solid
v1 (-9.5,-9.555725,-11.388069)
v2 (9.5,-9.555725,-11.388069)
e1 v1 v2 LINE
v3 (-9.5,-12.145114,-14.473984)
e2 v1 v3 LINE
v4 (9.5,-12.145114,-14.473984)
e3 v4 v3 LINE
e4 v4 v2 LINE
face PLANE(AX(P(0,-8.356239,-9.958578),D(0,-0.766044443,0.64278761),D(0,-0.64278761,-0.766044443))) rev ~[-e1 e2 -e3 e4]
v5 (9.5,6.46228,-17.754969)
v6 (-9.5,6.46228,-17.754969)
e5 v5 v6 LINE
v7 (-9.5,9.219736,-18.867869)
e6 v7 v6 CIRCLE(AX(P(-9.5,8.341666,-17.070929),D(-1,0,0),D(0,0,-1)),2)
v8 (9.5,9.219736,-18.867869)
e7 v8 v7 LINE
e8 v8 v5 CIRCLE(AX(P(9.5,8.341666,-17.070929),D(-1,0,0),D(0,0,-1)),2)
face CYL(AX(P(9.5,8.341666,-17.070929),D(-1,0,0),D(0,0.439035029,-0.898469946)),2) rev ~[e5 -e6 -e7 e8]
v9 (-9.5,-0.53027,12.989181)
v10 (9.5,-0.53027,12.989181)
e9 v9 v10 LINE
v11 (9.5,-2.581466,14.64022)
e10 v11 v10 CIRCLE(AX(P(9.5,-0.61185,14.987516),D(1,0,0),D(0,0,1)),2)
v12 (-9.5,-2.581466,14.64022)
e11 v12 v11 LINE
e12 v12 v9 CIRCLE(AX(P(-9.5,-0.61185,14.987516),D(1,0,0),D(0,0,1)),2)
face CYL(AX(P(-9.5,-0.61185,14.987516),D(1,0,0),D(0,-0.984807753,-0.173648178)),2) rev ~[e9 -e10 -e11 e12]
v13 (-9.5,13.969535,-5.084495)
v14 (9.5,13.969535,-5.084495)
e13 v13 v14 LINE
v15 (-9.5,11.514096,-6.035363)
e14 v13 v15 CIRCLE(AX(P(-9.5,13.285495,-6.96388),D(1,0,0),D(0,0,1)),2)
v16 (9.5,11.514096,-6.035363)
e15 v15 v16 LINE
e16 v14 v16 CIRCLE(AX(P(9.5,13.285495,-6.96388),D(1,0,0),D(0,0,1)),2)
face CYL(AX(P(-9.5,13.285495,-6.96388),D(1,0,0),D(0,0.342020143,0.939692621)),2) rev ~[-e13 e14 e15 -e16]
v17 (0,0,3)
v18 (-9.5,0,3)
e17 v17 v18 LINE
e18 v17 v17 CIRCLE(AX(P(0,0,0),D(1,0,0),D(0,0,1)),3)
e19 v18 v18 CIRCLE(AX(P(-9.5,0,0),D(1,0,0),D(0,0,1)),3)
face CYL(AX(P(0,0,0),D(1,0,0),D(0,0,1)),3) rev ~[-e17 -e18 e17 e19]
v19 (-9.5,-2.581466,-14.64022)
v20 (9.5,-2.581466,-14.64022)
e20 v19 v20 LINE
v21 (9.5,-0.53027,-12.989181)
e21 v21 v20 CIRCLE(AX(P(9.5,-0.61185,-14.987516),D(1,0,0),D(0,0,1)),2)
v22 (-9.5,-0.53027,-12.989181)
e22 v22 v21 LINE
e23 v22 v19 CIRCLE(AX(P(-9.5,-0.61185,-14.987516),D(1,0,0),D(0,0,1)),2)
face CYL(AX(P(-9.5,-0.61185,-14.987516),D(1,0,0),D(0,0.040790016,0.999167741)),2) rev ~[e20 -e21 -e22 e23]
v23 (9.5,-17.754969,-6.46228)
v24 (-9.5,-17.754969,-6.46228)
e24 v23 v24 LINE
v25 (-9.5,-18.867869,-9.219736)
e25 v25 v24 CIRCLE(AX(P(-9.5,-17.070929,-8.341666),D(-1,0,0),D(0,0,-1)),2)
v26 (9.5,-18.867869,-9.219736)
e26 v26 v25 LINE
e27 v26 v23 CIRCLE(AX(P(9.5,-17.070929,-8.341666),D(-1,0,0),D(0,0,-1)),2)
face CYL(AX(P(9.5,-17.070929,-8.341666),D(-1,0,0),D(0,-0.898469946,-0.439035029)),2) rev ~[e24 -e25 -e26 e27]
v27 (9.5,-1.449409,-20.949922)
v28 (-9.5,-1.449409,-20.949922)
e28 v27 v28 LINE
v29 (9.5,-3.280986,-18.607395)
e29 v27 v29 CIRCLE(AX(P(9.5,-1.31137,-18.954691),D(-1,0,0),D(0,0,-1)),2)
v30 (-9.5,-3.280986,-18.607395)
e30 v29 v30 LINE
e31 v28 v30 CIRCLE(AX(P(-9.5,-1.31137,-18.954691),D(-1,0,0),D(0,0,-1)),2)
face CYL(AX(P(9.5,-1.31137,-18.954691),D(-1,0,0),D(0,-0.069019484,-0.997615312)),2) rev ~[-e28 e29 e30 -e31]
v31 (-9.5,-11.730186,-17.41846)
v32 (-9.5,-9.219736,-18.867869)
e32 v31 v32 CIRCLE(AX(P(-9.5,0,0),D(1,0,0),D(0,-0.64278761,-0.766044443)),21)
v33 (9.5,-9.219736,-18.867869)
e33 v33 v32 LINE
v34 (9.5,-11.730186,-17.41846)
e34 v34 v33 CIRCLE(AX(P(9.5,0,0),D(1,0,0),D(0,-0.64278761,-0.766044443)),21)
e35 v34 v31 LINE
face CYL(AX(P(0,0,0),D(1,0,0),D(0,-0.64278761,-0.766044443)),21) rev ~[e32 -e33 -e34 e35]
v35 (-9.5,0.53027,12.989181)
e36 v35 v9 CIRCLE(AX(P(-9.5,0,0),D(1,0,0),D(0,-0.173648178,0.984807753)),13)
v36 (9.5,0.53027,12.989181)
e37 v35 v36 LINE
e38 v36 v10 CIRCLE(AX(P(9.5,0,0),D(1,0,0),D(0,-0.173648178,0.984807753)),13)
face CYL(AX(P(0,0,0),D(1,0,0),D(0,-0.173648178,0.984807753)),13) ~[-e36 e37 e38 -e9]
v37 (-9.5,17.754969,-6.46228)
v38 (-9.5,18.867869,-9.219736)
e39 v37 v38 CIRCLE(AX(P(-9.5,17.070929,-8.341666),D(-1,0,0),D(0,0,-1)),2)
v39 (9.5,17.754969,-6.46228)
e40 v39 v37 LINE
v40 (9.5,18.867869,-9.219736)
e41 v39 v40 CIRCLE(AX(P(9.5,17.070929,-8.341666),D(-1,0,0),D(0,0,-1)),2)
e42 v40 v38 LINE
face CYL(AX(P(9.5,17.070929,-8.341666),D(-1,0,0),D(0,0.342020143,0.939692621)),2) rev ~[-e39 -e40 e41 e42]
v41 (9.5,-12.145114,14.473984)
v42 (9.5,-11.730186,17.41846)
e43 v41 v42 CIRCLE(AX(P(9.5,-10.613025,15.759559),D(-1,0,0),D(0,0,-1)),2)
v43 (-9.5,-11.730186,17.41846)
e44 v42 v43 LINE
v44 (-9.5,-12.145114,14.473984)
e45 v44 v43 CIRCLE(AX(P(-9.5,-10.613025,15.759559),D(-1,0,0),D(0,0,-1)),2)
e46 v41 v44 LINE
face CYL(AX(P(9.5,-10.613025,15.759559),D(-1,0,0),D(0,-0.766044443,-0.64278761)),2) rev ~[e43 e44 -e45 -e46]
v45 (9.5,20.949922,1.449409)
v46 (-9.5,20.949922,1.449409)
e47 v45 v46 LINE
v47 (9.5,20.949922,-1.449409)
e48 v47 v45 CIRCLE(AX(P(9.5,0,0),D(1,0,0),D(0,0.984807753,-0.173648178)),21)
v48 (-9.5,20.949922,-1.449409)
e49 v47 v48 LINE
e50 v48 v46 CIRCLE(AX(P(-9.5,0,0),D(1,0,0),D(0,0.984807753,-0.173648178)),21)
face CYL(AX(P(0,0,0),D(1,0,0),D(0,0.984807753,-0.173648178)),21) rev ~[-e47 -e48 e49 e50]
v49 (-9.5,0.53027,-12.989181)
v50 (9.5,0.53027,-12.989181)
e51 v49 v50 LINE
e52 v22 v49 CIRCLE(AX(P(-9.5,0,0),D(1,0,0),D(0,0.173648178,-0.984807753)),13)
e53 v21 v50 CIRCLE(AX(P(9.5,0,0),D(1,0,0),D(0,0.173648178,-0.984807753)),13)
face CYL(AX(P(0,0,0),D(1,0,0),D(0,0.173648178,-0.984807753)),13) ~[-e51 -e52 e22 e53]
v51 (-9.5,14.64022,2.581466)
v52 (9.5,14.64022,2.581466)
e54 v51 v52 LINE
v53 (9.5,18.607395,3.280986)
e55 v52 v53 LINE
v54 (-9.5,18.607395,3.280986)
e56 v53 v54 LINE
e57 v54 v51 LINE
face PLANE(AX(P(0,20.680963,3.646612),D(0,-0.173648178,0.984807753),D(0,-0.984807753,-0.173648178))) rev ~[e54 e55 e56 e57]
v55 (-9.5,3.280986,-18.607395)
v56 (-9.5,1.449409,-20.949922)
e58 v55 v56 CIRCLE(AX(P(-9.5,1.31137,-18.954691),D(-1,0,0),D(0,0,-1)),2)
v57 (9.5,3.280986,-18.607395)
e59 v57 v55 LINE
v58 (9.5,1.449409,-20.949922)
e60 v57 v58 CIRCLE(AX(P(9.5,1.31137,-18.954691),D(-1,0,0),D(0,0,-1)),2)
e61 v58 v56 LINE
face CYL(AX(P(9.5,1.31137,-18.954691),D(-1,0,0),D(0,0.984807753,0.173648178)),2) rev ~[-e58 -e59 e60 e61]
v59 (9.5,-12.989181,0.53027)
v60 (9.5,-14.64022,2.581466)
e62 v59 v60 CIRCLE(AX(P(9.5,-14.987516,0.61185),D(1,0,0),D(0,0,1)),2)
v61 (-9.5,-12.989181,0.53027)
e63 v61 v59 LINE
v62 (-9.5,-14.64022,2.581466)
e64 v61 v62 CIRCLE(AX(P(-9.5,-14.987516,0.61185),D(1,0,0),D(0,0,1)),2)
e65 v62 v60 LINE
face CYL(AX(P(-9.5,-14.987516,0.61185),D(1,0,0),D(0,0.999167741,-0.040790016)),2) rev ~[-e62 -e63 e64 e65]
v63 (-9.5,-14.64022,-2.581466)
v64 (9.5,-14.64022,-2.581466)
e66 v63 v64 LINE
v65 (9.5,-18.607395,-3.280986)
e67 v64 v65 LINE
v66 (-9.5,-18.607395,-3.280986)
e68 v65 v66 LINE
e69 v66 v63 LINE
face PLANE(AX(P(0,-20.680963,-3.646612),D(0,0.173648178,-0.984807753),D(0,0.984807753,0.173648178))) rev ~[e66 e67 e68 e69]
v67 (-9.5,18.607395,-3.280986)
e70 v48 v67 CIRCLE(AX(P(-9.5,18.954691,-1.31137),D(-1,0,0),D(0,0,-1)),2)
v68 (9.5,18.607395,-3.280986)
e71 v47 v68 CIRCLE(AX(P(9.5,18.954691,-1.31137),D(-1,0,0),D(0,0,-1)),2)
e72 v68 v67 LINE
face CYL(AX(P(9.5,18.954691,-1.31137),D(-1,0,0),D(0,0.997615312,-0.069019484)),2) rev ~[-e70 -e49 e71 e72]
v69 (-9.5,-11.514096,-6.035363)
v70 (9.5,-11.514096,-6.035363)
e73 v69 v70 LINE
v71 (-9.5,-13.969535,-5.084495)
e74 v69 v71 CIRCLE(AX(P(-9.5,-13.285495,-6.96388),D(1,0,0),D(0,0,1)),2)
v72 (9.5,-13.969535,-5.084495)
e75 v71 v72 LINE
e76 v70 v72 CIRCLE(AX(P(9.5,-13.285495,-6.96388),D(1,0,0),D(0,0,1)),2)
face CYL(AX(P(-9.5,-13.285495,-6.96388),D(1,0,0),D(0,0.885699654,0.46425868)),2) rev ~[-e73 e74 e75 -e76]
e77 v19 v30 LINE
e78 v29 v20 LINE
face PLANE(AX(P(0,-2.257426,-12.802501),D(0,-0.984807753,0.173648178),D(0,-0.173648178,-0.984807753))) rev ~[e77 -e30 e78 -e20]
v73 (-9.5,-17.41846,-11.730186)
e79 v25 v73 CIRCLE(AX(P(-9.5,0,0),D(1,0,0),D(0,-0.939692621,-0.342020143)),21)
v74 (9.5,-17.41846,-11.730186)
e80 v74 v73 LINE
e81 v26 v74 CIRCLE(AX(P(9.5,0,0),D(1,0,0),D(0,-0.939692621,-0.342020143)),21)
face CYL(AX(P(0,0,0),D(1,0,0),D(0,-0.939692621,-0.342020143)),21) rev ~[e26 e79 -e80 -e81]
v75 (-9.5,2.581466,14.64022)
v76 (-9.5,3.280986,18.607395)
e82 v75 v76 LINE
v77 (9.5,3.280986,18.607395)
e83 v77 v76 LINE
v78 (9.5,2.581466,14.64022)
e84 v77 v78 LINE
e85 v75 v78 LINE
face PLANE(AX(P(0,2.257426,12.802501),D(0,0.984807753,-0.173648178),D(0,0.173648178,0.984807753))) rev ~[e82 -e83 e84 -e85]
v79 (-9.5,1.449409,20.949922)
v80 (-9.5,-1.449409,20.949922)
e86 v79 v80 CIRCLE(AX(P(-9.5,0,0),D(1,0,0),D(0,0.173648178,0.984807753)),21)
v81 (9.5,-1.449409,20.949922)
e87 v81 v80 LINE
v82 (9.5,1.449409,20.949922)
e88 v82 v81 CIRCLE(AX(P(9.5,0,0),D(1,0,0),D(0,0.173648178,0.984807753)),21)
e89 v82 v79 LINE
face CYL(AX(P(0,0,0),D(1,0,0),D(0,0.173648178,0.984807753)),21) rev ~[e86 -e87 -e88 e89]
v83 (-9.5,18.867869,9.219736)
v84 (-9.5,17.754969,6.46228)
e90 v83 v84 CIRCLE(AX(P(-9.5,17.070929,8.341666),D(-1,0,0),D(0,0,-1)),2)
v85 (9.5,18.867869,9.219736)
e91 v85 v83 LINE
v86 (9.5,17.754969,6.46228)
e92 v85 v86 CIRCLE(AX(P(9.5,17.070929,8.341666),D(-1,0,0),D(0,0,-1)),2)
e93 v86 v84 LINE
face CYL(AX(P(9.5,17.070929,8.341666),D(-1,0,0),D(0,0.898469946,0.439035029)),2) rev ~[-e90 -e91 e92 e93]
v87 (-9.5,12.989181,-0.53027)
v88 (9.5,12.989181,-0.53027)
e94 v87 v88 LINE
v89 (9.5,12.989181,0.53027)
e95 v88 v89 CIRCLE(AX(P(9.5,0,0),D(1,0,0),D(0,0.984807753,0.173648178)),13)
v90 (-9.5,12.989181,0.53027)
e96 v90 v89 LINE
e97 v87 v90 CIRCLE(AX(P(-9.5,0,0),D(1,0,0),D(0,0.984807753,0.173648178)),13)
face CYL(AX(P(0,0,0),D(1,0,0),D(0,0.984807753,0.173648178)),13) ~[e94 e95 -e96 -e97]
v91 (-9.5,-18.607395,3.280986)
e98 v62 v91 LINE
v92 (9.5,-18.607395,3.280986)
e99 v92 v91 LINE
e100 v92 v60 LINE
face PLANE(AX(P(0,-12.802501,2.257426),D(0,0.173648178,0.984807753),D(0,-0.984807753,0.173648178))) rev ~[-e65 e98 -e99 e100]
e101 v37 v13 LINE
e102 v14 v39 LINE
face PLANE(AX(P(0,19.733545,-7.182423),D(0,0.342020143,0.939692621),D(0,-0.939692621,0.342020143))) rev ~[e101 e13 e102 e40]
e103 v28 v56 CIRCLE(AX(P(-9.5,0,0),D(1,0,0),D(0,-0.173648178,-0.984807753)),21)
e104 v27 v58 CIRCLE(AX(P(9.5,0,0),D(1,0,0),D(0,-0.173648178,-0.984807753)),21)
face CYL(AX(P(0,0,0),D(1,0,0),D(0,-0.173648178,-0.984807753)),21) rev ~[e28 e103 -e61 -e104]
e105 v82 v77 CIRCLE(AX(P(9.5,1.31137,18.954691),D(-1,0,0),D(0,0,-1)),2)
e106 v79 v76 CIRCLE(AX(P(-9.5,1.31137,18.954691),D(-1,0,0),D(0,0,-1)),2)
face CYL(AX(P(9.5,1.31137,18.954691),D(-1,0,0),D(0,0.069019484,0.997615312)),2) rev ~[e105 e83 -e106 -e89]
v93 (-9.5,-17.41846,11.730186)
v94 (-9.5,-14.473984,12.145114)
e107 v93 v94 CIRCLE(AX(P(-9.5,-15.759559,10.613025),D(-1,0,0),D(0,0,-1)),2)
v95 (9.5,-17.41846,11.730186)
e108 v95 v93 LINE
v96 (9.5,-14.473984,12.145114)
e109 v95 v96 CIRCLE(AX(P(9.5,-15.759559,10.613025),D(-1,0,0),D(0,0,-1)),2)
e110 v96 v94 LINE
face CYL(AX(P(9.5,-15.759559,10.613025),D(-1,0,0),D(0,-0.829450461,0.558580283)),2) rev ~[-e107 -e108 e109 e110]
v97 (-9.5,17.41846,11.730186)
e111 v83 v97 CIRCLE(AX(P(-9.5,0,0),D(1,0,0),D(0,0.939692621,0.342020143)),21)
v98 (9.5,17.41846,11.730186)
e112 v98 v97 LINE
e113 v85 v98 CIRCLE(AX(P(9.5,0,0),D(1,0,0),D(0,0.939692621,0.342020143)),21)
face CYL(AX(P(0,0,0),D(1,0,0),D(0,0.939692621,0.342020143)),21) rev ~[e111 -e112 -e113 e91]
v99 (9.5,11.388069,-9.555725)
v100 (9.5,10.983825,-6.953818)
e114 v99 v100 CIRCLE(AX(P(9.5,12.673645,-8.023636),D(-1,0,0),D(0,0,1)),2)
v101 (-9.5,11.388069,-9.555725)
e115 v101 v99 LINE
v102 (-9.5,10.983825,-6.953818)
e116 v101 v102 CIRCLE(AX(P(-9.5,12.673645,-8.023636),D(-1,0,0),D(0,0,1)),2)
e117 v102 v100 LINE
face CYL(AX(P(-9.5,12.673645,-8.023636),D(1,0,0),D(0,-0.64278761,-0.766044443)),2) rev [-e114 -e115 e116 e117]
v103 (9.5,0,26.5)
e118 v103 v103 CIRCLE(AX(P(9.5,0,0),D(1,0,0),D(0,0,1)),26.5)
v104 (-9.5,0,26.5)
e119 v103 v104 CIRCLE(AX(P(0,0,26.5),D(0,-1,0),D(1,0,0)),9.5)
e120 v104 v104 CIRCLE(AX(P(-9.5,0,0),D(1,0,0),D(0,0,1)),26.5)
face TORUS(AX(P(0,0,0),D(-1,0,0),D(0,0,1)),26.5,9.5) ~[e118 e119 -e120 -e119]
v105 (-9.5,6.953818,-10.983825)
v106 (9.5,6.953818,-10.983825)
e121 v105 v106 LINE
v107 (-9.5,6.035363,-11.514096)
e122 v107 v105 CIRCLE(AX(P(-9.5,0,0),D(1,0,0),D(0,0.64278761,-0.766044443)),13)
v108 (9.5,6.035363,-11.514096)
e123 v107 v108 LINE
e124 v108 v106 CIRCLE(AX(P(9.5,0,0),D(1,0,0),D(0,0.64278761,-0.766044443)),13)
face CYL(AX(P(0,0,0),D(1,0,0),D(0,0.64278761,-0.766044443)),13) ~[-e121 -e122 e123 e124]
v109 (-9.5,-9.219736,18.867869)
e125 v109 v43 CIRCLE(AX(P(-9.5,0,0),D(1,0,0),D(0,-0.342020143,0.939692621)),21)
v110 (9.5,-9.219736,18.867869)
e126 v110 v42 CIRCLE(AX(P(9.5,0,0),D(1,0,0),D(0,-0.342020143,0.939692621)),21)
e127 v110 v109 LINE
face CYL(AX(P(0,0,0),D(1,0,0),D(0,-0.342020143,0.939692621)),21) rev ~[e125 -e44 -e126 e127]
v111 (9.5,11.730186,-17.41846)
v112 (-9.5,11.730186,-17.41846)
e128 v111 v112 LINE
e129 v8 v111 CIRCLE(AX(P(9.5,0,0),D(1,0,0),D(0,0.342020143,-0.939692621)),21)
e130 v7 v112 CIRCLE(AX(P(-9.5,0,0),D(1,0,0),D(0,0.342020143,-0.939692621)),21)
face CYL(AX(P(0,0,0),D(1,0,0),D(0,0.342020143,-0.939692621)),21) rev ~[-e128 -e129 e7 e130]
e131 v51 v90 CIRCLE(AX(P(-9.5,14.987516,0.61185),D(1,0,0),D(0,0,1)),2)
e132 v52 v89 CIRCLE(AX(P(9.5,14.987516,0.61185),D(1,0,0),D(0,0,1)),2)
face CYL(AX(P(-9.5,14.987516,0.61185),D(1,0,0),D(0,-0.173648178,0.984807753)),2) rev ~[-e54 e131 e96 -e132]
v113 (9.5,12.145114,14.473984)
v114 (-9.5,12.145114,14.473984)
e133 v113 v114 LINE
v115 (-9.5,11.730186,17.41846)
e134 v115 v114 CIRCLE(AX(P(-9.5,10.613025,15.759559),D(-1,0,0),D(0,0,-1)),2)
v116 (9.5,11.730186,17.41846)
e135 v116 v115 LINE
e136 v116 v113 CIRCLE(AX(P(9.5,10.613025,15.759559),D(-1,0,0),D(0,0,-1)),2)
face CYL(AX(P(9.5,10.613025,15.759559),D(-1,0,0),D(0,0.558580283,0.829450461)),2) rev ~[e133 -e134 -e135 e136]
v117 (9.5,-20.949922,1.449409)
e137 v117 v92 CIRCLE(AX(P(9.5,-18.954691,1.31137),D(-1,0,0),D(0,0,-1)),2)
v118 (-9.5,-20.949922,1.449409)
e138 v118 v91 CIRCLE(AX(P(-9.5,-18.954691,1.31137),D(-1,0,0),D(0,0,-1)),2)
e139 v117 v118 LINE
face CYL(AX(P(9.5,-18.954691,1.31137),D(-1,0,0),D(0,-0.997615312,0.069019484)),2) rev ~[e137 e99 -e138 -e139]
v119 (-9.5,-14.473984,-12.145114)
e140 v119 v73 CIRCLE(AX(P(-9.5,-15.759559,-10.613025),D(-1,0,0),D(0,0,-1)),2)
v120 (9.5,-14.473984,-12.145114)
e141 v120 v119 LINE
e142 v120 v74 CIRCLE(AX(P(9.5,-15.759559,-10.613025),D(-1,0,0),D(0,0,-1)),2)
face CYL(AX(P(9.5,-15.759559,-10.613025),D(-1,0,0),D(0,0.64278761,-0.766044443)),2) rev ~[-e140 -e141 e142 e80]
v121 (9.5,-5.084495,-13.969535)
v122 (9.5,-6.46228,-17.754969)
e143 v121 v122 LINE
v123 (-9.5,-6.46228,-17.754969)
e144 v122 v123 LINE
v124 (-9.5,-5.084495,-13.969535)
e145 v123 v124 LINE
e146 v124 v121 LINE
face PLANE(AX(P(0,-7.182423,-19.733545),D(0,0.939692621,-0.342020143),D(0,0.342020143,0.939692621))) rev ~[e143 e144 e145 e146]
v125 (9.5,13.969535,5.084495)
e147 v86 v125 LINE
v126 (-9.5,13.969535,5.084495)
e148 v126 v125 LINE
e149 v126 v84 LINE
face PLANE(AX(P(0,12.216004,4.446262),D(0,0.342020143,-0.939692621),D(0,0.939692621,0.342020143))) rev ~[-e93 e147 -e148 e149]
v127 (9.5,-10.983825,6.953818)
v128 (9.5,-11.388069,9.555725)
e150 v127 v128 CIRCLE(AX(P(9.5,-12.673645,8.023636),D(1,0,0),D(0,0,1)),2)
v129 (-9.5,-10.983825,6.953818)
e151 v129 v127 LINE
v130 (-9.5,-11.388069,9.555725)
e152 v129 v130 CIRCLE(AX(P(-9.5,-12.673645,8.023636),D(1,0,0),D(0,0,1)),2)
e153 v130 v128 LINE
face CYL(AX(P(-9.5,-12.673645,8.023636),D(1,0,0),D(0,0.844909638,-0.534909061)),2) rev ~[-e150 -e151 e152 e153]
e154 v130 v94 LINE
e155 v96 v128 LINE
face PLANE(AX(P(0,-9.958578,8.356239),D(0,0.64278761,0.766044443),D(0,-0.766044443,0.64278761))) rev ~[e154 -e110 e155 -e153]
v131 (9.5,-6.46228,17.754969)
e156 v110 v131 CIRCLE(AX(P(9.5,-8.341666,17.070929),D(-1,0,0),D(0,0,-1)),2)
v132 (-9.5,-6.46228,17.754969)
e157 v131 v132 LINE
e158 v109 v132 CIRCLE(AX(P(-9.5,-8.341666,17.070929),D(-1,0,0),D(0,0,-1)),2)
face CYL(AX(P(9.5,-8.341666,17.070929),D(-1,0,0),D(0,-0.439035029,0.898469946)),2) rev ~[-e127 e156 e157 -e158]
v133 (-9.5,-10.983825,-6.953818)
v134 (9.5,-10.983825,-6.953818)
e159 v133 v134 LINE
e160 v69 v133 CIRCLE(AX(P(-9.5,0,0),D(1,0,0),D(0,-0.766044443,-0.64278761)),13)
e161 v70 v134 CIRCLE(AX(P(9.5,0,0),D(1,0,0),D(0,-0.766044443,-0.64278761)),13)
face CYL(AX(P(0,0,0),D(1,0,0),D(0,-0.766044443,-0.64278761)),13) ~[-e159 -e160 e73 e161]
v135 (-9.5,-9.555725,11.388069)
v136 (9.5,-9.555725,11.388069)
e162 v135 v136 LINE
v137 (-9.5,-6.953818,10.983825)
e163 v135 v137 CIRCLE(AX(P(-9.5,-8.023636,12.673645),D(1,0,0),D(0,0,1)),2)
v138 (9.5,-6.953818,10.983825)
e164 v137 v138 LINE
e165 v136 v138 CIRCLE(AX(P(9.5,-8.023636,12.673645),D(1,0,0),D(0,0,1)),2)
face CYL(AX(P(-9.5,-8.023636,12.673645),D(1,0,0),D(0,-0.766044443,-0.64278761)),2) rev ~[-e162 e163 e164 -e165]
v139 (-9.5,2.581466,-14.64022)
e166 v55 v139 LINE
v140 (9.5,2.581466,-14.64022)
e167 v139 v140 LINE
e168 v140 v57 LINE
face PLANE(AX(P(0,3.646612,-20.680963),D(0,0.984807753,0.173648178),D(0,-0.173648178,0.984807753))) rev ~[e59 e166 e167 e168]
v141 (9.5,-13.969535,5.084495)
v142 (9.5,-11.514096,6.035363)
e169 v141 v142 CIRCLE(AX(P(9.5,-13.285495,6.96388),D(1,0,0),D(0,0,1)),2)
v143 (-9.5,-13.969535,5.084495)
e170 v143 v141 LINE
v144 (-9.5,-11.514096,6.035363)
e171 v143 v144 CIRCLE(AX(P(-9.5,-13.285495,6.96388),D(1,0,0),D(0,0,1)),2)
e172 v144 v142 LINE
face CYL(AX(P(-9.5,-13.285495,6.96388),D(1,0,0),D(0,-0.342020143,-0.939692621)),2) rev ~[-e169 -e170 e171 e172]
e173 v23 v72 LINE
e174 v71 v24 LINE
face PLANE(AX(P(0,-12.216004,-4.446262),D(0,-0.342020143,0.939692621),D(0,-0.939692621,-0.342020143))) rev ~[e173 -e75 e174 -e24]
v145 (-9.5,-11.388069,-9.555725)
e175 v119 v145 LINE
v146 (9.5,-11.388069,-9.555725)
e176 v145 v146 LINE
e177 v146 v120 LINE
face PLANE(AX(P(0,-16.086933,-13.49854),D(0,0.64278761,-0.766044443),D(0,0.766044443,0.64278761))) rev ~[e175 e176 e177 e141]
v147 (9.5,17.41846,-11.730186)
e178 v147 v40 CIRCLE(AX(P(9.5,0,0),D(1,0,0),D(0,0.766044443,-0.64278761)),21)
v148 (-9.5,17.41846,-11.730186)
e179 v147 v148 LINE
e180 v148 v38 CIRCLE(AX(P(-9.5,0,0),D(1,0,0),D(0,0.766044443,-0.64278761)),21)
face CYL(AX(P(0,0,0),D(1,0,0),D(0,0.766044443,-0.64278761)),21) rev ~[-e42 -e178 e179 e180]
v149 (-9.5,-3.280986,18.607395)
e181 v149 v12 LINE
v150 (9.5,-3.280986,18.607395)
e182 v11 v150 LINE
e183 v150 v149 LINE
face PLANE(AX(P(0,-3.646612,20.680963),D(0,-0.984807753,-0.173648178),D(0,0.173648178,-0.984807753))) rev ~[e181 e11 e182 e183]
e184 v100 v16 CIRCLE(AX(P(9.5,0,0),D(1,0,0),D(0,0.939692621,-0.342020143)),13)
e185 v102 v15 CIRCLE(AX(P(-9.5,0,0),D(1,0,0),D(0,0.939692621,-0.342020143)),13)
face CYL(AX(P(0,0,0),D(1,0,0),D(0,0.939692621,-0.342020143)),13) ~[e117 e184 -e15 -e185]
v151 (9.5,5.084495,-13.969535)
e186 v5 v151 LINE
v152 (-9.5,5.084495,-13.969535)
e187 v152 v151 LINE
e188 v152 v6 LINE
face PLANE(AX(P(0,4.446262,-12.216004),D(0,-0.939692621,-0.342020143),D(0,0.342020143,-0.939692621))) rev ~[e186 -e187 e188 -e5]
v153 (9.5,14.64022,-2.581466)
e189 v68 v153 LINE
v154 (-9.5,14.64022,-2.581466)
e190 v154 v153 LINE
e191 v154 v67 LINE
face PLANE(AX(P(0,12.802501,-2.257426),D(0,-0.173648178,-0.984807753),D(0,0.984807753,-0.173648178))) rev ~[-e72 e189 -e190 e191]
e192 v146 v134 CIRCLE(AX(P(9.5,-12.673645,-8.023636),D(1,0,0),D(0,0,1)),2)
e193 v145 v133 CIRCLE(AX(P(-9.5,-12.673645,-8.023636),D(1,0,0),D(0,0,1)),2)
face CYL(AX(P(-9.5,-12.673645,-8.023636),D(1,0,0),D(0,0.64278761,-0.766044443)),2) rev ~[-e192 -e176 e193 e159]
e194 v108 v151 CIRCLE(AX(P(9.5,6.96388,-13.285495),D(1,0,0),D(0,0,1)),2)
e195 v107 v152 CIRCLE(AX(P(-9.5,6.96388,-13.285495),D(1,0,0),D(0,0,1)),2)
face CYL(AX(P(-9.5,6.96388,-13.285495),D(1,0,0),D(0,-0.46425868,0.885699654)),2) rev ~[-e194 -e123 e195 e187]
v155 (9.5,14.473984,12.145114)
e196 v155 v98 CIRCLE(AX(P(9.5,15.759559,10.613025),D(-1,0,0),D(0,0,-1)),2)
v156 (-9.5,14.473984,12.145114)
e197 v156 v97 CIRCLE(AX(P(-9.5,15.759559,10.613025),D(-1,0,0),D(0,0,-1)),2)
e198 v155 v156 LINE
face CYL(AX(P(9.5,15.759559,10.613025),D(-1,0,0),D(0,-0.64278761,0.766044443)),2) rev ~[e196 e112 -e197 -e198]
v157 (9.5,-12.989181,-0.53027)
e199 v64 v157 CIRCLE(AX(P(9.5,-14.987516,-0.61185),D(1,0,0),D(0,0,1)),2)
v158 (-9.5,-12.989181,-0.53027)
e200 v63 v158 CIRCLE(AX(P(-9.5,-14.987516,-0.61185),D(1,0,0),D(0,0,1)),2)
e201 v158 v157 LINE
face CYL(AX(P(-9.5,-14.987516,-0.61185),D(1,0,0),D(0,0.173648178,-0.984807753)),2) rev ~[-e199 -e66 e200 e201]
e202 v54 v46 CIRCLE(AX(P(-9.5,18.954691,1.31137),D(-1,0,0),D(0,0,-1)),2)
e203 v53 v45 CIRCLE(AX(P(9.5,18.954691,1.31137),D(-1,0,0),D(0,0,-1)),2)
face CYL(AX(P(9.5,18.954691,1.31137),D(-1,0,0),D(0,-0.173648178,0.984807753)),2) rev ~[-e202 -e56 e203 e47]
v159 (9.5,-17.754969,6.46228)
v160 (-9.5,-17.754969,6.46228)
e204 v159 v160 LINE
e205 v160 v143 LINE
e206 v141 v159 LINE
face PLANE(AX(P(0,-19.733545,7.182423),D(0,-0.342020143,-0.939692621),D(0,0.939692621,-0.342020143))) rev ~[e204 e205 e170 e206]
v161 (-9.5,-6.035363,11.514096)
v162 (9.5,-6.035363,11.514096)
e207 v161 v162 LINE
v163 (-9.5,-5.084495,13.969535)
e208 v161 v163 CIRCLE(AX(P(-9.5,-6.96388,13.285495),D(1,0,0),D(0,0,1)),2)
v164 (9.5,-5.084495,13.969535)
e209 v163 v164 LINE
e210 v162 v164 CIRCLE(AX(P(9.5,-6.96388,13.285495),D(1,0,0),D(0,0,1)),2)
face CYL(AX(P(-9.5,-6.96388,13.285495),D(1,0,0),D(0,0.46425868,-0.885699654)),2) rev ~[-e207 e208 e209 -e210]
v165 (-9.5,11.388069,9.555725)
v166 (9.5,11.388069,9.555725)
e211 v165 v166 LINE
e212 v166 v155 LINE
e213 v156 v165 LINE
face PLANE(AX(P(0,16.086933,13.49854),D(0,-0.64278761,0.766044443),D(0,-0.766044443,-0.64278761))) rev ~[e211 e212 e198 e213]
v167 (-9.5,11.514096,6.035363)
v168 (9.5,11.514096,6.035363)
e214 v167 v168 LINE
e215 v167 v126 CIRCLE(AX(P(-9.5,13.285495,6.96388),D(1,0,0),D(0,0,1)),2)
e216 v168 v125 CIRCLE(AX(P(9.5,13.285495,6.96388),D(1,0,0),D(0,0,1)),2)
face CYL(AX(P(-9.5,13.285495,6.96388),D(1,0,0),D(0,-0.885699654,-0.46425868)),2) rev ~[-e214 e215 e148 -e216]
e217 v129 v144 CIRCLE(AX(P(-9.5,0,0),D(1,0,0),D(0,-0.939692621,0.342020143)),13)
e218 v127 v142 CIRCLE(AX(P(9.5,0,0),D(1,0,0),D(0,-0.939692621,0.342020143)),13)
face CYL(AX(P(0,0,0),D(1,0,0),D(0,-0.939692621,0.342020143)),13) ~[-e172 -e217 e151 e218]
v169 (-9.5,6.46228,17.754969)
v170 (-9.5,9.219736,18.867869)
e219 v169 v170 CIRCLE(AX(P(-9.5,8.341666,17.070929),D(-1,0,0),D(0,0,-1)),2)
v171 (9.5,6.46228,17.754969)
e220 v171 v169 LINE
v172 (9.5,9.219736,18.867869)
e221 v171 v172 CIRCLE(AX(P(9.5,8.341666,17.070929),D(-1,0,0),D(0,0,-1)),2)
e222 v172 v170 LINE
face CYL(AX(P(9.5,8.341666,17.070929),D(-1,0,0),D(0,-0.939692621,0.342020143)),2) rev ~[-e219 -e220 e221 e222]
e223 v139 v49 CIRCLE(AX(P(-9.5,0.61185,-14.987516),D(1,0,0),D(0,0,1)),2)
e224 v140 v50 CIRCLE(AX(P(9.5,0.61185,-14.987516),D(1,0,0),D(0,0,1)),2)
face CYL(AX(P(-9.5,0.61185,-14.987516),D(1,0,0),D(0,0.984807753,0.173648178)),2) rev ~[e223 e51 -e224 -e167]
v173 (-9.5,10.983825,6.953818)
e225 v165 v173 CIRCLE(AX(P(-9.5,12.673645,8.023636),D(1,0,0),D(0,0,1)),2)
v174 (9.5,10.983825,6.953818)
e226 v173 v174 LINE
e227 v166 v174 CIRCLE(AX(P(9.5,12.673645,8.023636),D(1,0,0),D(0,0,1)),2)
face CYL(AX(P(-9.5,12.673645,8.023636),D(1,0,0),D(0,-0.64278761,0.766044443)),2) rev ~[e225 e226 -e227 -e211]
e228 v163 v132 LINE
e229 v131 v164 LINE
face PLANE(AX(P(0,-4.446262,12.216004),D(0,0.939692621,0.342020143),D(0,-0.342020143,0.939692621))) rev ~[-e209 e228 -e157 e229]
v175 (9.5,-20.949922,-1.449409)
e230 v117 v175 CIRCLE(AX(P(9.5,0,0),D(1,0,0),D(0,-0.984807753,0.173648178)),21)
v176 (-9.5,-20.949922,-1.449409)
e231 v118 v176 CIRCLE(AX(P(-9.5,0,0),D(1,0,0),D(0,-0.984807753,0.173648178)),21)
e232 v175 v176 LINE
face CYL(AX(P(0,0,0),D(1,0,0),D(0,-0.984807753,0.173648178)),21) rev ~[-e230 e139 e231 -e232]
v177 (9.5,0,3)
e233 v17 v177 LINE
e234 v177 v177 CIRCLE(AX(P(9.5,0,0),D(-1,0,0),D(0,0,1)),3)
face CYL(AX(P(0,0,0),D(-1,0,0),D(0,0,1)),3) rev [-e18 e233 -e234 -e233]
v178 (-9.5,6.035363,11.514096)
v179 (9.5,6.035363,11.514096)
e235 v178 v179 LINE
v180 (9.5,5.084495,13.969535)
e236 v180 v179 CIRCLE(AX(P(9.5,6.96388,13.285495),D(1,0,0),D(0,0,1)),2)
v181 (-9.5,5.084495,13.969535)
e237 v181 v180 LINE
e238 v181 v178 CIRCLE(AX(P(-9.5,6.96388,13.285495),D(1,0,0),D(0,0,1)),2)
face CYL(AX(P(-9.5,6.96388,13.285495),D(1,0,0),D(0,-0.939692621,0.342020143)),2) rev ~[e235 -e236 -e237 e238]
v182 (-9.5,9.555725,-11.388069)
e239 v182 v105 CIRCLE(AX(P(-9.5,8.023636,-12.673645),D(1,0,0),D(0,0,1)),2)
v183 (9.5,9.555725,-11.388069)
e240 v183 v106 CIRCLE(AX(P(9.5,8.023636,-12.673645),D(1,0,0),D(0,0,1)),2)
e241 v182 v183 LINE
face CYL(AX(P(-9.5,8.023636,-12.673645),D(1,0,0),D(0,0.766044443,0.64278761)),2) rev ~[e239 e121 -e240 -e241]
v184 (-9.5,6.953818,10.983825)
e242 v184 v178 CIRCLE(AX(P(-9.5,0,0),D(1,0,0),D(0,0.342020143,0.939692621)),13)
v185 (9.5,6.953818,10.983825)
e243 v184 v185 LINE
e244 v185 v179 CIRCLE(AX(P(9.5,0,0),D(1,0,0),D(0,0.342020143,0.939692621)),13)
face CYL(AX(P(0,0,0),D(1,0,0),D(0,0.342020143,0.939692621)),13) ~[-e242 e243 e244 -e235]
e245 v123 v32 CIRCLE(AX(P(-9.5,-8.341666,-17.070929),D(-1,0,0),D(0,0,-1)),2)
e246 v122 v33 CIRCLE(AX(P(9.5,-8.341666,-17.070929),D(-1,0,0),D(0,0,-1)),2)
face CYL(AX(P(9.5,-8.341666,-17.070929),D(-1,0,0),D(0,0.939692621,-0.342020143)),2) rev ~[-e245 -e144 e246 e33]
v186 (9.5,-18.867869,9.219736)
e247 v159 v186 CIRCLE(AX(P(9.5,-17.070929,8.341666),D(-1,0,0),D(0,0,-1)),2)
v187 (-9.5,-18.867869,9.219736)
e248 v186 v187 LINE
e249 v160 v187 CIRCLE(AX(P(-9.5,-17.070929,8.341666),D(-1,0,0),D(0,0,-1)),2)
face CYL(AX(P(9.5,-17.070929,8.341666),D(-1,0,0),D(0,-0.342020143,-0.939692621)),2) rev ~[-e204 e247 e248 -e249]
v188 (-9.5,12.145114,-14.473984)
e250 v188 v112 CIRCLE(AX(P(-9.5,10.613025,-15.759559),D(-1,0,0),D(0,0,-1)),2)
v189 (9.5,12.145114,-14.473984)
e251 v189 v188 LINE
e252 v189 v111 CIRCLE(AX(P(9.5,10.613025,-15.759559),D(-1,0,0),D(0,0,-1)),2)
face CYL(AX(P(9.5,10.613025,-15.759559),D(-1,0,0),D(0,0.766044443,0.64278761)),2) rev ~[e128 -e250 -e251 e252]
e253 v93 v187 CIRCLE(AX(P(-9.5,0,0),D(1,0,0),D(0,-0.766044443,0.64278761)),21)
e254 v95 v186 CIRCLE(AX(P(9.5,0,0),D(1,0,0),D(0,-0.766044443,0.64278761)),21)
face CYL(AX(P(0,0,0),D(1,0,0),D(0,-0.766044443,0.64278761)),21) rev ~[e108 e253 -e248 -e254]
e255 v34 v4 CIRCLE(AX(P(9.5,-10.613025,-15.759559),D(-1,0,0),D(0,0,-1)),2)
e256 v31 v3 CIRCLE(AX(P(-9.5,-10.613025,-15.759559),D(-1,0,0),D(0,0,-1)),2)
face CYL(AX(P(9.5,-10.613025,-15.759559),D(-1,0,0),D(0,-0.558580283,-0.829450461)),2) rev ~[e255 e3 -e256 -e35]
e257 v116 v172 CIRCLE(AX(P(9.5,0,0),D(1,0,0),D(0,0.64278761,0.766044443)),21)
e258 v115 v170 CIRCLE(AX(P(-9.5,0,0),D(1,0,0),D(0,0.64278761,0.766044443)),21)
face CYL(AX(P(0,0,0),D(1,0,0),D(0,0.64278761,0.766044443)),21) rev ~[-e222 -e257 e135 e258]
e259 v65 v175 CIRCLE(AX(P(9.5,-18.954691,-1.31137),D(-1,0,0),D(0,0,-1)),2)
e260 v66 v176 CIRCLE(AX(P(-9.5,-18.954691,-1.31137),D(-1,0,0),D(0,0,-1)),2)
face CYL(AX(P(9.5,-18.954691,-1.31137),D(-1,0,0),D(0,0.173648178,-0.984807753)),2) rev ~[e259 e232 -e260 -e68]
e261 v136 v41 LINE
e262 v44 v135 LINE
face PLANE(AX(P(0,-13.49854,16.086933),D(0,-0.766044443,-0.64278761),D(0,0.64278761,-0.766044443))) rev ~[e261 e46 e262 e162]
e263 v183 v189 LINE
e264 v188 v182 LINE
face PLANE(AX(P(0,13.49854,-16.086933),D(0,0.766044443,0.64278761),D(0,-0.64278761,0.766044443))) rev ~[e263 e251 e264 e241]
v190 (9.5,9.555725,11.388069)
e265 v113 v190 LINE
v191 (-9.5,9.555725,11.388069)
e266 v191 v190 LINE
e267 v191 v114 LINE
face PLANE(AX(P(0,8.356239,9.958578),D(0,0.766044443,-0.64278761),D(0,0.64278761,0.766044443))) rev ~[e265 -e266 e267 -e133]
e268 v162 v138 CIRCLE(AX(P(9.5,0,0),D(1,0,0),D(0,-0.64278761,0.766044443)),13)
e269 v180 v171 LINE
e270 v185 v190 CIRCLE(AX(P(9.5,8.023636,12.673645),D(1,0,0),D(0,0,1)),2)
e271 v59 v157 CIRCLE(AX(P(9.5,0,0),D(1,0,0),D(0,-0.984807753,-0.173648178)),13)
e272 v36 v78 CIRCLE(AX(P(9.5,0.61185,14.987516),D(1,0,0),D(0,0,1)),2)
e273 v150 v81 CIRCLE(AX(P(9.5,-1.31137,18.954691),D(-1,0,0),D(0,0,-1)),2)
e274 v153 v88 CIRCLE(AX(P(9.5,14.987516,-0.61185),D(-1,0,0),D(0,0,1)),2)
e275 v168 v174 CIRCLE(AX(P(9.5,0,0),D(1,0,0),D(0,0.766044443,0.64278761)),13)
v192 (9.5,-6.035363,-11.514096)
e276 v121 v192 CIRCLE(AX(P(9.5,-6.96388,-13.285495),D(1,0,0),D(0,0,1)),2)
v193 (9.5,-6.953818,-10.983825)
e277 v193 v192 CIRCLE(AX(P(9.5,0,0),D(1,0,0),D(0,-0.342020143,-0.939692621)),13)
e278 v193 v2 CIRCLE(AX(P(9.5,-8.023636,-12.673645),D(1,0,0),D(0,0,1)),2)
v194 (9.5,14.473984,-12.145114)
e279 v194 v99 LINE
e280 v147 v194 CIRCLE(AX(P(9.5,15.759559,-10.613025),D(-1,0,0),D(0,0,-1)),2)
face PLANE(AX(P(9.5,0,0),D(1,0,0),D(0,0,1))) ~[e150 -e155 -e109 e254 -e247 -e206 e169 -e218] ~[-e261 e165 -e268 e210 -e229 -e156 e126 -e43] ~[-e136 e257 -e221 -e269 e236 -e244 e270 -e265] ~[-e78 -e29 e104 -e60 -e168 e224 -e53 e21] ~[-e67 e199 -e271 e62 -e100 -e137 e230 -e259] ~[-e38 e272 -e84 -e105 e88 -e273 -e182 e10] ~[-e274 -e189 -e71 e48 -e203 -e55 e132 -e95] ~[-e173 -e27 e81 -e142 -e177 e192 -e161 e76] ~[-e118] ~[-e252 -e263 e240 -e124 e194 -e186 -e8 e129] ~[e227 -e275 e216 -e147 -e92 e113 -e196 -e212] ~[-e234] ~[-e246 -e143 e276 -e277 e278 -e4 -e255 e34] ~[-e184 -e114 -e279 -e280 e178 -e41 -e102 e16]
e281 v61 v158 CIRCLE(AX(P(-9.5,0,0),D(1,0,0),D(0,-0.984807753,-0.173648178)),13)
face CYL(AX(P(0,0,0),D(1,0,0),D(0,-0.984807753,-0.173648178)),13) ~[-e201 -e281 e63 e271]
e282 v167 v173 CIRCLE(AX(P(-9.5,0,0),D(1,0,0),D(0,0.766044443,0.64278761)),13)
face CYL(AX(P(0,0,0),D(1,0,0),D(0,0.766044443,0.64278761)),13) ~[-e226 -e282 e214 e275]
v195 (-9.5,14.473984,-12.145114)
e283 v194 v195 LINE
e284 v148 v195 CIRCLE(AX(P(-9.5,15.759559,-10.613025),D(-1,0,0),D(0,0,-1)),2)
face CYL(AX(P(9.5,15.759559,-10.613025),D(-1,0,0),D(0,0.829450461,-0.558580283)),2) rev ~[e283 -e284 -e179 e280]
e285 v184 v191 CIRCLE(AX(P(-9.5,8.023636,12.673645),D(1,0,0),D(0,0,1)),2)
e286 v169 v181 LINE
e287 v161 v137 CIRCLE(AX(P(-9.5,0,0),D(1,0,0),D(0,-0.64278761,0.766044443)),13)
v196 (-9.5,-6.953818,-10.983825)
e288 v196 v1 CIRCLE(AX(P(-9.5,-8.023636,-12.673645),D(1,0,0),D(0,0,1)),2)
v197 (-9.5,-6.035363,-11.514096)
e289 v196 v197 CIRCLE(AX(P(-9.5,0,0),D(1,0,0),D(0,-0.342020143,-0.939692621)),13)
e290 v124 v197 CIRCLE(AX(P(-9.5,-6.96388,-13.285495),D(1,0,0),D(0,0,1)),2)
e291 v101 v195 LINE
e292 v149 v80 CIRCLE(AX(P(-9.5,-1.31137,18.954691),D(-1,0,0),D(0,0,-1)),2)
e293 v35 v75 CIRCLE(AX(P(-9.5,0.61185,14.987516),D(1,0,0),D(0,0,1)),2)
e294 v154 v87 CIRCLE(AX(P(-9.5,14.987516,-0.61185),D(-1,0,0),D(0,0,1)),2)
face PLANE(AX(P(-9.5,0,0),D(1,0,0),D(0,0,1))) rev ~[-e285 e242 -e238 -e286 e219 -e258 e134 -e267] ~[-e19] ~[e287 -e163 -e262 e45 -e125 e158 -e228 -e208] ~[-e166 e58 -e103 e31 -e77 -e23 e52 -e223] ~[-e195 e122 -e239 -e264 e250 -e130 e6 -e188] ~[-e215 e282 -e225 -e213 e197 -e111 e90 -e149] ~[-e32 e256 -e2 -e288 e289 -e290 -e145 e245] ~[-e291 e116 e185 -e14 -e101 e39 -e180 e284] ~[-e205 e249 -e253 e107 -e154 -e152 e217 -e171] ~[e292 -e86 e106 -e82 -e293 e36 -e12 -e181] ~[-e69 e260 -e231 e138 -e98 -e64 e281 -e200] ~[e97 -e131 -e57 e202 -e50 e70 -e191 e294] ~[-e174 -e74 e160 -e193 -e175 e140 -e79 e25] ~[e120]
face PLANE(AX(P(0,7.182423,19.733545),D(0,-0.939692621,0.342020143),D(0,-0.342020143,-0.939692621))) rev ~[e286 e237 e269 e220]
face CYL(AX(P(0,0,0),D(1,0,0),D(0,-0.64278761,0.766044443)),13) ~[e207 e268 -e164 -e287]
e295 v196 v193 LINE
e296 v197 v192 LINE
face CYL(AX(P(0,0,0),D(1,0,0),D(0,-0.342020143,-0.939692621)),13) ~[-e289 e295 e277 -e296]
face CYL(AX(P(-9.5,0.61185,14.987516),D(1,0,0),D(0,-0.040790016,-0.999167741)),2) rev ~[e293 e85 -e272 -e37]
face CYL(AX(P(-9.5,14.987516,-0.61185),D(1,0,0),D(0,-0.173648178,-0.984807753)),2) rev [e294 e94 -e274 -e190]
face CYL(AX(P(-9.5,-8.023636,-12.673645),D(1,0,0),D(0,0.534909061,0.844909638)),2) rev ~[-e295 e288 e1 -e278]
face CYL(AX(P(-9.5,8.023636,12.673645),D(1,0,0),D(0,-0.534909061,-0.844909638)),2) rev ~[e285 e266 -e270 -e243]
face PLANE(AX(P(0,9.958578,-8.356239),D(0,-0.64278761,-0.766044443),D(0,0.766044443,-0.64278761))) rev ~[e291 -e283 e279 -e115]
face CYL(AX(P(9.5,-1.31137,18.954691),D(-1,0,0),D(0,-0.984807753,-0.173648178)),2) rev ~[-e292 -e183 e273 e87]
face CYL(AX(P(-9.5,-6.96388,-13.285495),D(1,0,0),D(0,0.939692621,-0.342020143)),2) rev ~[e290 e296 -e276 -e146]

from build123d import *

# Parameters (mm, degrees)
CUT_EXTRUDE1_REACH             = 53.79
SKETCH5_R                      = 3
CUT_EXTRUDE1_DIRECTION_2_REACH = 53.79
CUT_EXTRUDE2_DEPTH             = 52.790443273
FILLET1_R                      = 2
CIRPATTERN2_COUNT              = 12
FILLET1_OF_CIRPATTERN2_R       = 2


with BuildPart() as part:
    # Sketch3 → Revolve1 (revolve)
    with BuildSketch(Plane.XY, mode=Mode.PRIVATE) as revolve1_sk:
        with BuildLine():
            Line((9.5, 0), (9.5, 26.5))
            ThreePointArc((9.5, 26.5), (0, 36), (-9.5, 26.5))
            Line((-9.5, 26.5), (-9.5, 0))
            Line((-9.5, 0), (9.5, 0))
        make_face()
    revolve(revolve1_sk.sketch.rotate(Axis((-15.081723319, 0, 0), (1, 0, 0)), 90), axis=Axis((-15.081723319, 0, 0), (1, 0, 0)))

    # Sketch5 → Cut-Extrude1 (cut, up to next)
    with BuildSketch(Plane(origin=(0, 0, 0), x_dir=(0, 0, -1), z_dir=(1, 0, 0)), mode=Mode.PRIVATE) as cut_extrude1_sk1:
        with Locations(Location((0, 0, 0), (0, 0, 180))):
            Circle(SKETCH5_R)
    cut_extrude1_tool1 = extrude(cut_extrude1_sk1.sketch, amount=-CUT_EXTRUDE1_REACH, mode=Mode.PRIVATE) & part.part
    add(cut_extrude1_tool1.solids().sort_by_distance((0, 0, 0))[0], mode=Mode.SUBTRACT)

    # Sketch5 → Cut-Extrude1 direction 2 (cut, up to next)
    with BuildSketch(Plane(origin=(0, 0, 0), x_dir=(0, 0, -1), z_dir=(1, 0, 0)), mode=Mode.PRIVATE) as cut_extrude1_direction_2_sk1:
        with Locations(Location((0, 0, 0), (0, 0, 180))):
            Circle(SKETCH5_R)
    cut_extrude1_direction_2_tool1 = extrude(cut_extrude1_direction_2_sk1.sketch, amount=CUT_EXTRUDE1_DIRECTION_2_REACH, mode=Mode.PRIVATE) & part.part
    add(cut_extrude1_direction_2_tool1.solids().sort_by_distance((0, 0, 0))[0], mode=Mode.SUBTRACT)

    # Sketch6 → Cut-Extrude2 (cut, symmetric)
    with BuildSketch(Plane(origin=(0, 0, 0), x_dir=(0, 0, -1), z_dir=(1, 0, 0))):
        with BuildLine():
            Line((-3.646611731, 20.680962813), (-2.25742631, 12.802500789))
            ThreePointArc((-2.25742631, 12.802500789), (0, 13), (2.25742631, 12.802500789))
            Line((2.25742631, 12.802500789), (3.646611731, 20.680962813))
            ThreePointArc((3.646611731, 20.680962813), (0, 21), (-3.646611731, 20.680962813))
        make_face()
    cut_extrude2 = extrude(amount=CUT_EXTRUDE2_DEPTH, both=True, mode=Mode.SUBTRACT)

    # Fillet1
    fillet1_edges = [part.edges().sort_by_distance(p)[0] for p in [
        (0, 20.680962813, 3.646611731),
        (0, 20.680962813, -3.646611731),
        (0, 12.802500789, -2.25742631),
        (0, 12.802500789, 2.25742631),
    ]]
    fillet(fillet1_edges, radius=FILLET1_R)

    # CirPattern2: Cut-Extrude2 ×12 about axis
    cirpattern2_axis = Axis((0, 0, 0), (1, 0, 0))
    for i in range(1, CIRPATTERN2_COUNT):
        add(cut_extrude2.rotate(cirpattern2_axis, i * 360 / CIRPATTERN2_COUNT), mode=Mode.SUBTRACT)

    # Fillet1 of CirPattern2
    fillet1_of_cirpattern2_edges = [part.edges().sort_by_distance(p)[0] for p in [
        (0, 16.086933305, 13.498539803),
        (0, 19.733545037, 7.18242301),
        (0, 12.21600407, 4.446261863),
        (0, 9.958577761, 8.356238926),
        (0, 7.18242301, 19.733545037),
        (0, 13.498539803, 16.086933305),
        (0, 8.356238926, 9.958577761),
        (0, 4.446261863, 12.21600407),
        (0, -3.646611731, 20.680962813),
        (0, 3.646611731, 20.680962813),
        (0, 2.25742631, 12.802500789),
        (0, -2.25742631, 12.802500789),
        (0, -13.498539803, 16.086933305),
        (0, -7.18242301, 19.733545037),
        (0, -4.446261863, 12.21600407),
        (0, -8.356238926, 9.958577761),
        (0, -19.733545037, 7.18242301),
        (0, -16.086933305, 13.498539803),
        (0, -9.958577761, 8.356238926),
        (0, -12.21600407, 4.446261863),
        (0, -20.680962813, -3.646611731),
        (0, -20.680962813, 3.646611731),
        (0, -12.802500789, 2.25742631),
        (0, -12.802500789, -2.25742631),
        (0, -16.086933305, -13.498539803),
        (0, -19.733545037, -7.18242301),
        (0, -12.21600407, -4.446261863),
        (0, -9.958577761, -8.356238926),
        (0, -7.18242301, -19.733545037),
        (0, -13.498539803, -16.086933305),
        (0, -8.356238926, -9.958577761),
        (0, -4.446261863, -12.21600407),
        (0, 3.646611731, -20.680962813),
        (0, -3.646611731, -20.680962813),
        (0, -2.25742631, -12.802500789),
        (0, 2.25742631, -12.802500789),
        (0, 13.498539803, -16.086933305),
        (0, 7.18242301, -19.733545037),
        (0, 4.446261863, -12.21600407),
        (0, 8.356238926, -9.958577761),
        (0, 19.733545037, -7.18242301),
        (0, 16.086933305, -13.498539803),
        (0, 9.958577761, -8.356238926),
        (0, 12.21600407, -4.446261863),
    ]]
    fillet(fillet1_of_cirpattern2_edges, radius=FILLET1_OF_CIRPATTERN2_R)


solid = part.part
